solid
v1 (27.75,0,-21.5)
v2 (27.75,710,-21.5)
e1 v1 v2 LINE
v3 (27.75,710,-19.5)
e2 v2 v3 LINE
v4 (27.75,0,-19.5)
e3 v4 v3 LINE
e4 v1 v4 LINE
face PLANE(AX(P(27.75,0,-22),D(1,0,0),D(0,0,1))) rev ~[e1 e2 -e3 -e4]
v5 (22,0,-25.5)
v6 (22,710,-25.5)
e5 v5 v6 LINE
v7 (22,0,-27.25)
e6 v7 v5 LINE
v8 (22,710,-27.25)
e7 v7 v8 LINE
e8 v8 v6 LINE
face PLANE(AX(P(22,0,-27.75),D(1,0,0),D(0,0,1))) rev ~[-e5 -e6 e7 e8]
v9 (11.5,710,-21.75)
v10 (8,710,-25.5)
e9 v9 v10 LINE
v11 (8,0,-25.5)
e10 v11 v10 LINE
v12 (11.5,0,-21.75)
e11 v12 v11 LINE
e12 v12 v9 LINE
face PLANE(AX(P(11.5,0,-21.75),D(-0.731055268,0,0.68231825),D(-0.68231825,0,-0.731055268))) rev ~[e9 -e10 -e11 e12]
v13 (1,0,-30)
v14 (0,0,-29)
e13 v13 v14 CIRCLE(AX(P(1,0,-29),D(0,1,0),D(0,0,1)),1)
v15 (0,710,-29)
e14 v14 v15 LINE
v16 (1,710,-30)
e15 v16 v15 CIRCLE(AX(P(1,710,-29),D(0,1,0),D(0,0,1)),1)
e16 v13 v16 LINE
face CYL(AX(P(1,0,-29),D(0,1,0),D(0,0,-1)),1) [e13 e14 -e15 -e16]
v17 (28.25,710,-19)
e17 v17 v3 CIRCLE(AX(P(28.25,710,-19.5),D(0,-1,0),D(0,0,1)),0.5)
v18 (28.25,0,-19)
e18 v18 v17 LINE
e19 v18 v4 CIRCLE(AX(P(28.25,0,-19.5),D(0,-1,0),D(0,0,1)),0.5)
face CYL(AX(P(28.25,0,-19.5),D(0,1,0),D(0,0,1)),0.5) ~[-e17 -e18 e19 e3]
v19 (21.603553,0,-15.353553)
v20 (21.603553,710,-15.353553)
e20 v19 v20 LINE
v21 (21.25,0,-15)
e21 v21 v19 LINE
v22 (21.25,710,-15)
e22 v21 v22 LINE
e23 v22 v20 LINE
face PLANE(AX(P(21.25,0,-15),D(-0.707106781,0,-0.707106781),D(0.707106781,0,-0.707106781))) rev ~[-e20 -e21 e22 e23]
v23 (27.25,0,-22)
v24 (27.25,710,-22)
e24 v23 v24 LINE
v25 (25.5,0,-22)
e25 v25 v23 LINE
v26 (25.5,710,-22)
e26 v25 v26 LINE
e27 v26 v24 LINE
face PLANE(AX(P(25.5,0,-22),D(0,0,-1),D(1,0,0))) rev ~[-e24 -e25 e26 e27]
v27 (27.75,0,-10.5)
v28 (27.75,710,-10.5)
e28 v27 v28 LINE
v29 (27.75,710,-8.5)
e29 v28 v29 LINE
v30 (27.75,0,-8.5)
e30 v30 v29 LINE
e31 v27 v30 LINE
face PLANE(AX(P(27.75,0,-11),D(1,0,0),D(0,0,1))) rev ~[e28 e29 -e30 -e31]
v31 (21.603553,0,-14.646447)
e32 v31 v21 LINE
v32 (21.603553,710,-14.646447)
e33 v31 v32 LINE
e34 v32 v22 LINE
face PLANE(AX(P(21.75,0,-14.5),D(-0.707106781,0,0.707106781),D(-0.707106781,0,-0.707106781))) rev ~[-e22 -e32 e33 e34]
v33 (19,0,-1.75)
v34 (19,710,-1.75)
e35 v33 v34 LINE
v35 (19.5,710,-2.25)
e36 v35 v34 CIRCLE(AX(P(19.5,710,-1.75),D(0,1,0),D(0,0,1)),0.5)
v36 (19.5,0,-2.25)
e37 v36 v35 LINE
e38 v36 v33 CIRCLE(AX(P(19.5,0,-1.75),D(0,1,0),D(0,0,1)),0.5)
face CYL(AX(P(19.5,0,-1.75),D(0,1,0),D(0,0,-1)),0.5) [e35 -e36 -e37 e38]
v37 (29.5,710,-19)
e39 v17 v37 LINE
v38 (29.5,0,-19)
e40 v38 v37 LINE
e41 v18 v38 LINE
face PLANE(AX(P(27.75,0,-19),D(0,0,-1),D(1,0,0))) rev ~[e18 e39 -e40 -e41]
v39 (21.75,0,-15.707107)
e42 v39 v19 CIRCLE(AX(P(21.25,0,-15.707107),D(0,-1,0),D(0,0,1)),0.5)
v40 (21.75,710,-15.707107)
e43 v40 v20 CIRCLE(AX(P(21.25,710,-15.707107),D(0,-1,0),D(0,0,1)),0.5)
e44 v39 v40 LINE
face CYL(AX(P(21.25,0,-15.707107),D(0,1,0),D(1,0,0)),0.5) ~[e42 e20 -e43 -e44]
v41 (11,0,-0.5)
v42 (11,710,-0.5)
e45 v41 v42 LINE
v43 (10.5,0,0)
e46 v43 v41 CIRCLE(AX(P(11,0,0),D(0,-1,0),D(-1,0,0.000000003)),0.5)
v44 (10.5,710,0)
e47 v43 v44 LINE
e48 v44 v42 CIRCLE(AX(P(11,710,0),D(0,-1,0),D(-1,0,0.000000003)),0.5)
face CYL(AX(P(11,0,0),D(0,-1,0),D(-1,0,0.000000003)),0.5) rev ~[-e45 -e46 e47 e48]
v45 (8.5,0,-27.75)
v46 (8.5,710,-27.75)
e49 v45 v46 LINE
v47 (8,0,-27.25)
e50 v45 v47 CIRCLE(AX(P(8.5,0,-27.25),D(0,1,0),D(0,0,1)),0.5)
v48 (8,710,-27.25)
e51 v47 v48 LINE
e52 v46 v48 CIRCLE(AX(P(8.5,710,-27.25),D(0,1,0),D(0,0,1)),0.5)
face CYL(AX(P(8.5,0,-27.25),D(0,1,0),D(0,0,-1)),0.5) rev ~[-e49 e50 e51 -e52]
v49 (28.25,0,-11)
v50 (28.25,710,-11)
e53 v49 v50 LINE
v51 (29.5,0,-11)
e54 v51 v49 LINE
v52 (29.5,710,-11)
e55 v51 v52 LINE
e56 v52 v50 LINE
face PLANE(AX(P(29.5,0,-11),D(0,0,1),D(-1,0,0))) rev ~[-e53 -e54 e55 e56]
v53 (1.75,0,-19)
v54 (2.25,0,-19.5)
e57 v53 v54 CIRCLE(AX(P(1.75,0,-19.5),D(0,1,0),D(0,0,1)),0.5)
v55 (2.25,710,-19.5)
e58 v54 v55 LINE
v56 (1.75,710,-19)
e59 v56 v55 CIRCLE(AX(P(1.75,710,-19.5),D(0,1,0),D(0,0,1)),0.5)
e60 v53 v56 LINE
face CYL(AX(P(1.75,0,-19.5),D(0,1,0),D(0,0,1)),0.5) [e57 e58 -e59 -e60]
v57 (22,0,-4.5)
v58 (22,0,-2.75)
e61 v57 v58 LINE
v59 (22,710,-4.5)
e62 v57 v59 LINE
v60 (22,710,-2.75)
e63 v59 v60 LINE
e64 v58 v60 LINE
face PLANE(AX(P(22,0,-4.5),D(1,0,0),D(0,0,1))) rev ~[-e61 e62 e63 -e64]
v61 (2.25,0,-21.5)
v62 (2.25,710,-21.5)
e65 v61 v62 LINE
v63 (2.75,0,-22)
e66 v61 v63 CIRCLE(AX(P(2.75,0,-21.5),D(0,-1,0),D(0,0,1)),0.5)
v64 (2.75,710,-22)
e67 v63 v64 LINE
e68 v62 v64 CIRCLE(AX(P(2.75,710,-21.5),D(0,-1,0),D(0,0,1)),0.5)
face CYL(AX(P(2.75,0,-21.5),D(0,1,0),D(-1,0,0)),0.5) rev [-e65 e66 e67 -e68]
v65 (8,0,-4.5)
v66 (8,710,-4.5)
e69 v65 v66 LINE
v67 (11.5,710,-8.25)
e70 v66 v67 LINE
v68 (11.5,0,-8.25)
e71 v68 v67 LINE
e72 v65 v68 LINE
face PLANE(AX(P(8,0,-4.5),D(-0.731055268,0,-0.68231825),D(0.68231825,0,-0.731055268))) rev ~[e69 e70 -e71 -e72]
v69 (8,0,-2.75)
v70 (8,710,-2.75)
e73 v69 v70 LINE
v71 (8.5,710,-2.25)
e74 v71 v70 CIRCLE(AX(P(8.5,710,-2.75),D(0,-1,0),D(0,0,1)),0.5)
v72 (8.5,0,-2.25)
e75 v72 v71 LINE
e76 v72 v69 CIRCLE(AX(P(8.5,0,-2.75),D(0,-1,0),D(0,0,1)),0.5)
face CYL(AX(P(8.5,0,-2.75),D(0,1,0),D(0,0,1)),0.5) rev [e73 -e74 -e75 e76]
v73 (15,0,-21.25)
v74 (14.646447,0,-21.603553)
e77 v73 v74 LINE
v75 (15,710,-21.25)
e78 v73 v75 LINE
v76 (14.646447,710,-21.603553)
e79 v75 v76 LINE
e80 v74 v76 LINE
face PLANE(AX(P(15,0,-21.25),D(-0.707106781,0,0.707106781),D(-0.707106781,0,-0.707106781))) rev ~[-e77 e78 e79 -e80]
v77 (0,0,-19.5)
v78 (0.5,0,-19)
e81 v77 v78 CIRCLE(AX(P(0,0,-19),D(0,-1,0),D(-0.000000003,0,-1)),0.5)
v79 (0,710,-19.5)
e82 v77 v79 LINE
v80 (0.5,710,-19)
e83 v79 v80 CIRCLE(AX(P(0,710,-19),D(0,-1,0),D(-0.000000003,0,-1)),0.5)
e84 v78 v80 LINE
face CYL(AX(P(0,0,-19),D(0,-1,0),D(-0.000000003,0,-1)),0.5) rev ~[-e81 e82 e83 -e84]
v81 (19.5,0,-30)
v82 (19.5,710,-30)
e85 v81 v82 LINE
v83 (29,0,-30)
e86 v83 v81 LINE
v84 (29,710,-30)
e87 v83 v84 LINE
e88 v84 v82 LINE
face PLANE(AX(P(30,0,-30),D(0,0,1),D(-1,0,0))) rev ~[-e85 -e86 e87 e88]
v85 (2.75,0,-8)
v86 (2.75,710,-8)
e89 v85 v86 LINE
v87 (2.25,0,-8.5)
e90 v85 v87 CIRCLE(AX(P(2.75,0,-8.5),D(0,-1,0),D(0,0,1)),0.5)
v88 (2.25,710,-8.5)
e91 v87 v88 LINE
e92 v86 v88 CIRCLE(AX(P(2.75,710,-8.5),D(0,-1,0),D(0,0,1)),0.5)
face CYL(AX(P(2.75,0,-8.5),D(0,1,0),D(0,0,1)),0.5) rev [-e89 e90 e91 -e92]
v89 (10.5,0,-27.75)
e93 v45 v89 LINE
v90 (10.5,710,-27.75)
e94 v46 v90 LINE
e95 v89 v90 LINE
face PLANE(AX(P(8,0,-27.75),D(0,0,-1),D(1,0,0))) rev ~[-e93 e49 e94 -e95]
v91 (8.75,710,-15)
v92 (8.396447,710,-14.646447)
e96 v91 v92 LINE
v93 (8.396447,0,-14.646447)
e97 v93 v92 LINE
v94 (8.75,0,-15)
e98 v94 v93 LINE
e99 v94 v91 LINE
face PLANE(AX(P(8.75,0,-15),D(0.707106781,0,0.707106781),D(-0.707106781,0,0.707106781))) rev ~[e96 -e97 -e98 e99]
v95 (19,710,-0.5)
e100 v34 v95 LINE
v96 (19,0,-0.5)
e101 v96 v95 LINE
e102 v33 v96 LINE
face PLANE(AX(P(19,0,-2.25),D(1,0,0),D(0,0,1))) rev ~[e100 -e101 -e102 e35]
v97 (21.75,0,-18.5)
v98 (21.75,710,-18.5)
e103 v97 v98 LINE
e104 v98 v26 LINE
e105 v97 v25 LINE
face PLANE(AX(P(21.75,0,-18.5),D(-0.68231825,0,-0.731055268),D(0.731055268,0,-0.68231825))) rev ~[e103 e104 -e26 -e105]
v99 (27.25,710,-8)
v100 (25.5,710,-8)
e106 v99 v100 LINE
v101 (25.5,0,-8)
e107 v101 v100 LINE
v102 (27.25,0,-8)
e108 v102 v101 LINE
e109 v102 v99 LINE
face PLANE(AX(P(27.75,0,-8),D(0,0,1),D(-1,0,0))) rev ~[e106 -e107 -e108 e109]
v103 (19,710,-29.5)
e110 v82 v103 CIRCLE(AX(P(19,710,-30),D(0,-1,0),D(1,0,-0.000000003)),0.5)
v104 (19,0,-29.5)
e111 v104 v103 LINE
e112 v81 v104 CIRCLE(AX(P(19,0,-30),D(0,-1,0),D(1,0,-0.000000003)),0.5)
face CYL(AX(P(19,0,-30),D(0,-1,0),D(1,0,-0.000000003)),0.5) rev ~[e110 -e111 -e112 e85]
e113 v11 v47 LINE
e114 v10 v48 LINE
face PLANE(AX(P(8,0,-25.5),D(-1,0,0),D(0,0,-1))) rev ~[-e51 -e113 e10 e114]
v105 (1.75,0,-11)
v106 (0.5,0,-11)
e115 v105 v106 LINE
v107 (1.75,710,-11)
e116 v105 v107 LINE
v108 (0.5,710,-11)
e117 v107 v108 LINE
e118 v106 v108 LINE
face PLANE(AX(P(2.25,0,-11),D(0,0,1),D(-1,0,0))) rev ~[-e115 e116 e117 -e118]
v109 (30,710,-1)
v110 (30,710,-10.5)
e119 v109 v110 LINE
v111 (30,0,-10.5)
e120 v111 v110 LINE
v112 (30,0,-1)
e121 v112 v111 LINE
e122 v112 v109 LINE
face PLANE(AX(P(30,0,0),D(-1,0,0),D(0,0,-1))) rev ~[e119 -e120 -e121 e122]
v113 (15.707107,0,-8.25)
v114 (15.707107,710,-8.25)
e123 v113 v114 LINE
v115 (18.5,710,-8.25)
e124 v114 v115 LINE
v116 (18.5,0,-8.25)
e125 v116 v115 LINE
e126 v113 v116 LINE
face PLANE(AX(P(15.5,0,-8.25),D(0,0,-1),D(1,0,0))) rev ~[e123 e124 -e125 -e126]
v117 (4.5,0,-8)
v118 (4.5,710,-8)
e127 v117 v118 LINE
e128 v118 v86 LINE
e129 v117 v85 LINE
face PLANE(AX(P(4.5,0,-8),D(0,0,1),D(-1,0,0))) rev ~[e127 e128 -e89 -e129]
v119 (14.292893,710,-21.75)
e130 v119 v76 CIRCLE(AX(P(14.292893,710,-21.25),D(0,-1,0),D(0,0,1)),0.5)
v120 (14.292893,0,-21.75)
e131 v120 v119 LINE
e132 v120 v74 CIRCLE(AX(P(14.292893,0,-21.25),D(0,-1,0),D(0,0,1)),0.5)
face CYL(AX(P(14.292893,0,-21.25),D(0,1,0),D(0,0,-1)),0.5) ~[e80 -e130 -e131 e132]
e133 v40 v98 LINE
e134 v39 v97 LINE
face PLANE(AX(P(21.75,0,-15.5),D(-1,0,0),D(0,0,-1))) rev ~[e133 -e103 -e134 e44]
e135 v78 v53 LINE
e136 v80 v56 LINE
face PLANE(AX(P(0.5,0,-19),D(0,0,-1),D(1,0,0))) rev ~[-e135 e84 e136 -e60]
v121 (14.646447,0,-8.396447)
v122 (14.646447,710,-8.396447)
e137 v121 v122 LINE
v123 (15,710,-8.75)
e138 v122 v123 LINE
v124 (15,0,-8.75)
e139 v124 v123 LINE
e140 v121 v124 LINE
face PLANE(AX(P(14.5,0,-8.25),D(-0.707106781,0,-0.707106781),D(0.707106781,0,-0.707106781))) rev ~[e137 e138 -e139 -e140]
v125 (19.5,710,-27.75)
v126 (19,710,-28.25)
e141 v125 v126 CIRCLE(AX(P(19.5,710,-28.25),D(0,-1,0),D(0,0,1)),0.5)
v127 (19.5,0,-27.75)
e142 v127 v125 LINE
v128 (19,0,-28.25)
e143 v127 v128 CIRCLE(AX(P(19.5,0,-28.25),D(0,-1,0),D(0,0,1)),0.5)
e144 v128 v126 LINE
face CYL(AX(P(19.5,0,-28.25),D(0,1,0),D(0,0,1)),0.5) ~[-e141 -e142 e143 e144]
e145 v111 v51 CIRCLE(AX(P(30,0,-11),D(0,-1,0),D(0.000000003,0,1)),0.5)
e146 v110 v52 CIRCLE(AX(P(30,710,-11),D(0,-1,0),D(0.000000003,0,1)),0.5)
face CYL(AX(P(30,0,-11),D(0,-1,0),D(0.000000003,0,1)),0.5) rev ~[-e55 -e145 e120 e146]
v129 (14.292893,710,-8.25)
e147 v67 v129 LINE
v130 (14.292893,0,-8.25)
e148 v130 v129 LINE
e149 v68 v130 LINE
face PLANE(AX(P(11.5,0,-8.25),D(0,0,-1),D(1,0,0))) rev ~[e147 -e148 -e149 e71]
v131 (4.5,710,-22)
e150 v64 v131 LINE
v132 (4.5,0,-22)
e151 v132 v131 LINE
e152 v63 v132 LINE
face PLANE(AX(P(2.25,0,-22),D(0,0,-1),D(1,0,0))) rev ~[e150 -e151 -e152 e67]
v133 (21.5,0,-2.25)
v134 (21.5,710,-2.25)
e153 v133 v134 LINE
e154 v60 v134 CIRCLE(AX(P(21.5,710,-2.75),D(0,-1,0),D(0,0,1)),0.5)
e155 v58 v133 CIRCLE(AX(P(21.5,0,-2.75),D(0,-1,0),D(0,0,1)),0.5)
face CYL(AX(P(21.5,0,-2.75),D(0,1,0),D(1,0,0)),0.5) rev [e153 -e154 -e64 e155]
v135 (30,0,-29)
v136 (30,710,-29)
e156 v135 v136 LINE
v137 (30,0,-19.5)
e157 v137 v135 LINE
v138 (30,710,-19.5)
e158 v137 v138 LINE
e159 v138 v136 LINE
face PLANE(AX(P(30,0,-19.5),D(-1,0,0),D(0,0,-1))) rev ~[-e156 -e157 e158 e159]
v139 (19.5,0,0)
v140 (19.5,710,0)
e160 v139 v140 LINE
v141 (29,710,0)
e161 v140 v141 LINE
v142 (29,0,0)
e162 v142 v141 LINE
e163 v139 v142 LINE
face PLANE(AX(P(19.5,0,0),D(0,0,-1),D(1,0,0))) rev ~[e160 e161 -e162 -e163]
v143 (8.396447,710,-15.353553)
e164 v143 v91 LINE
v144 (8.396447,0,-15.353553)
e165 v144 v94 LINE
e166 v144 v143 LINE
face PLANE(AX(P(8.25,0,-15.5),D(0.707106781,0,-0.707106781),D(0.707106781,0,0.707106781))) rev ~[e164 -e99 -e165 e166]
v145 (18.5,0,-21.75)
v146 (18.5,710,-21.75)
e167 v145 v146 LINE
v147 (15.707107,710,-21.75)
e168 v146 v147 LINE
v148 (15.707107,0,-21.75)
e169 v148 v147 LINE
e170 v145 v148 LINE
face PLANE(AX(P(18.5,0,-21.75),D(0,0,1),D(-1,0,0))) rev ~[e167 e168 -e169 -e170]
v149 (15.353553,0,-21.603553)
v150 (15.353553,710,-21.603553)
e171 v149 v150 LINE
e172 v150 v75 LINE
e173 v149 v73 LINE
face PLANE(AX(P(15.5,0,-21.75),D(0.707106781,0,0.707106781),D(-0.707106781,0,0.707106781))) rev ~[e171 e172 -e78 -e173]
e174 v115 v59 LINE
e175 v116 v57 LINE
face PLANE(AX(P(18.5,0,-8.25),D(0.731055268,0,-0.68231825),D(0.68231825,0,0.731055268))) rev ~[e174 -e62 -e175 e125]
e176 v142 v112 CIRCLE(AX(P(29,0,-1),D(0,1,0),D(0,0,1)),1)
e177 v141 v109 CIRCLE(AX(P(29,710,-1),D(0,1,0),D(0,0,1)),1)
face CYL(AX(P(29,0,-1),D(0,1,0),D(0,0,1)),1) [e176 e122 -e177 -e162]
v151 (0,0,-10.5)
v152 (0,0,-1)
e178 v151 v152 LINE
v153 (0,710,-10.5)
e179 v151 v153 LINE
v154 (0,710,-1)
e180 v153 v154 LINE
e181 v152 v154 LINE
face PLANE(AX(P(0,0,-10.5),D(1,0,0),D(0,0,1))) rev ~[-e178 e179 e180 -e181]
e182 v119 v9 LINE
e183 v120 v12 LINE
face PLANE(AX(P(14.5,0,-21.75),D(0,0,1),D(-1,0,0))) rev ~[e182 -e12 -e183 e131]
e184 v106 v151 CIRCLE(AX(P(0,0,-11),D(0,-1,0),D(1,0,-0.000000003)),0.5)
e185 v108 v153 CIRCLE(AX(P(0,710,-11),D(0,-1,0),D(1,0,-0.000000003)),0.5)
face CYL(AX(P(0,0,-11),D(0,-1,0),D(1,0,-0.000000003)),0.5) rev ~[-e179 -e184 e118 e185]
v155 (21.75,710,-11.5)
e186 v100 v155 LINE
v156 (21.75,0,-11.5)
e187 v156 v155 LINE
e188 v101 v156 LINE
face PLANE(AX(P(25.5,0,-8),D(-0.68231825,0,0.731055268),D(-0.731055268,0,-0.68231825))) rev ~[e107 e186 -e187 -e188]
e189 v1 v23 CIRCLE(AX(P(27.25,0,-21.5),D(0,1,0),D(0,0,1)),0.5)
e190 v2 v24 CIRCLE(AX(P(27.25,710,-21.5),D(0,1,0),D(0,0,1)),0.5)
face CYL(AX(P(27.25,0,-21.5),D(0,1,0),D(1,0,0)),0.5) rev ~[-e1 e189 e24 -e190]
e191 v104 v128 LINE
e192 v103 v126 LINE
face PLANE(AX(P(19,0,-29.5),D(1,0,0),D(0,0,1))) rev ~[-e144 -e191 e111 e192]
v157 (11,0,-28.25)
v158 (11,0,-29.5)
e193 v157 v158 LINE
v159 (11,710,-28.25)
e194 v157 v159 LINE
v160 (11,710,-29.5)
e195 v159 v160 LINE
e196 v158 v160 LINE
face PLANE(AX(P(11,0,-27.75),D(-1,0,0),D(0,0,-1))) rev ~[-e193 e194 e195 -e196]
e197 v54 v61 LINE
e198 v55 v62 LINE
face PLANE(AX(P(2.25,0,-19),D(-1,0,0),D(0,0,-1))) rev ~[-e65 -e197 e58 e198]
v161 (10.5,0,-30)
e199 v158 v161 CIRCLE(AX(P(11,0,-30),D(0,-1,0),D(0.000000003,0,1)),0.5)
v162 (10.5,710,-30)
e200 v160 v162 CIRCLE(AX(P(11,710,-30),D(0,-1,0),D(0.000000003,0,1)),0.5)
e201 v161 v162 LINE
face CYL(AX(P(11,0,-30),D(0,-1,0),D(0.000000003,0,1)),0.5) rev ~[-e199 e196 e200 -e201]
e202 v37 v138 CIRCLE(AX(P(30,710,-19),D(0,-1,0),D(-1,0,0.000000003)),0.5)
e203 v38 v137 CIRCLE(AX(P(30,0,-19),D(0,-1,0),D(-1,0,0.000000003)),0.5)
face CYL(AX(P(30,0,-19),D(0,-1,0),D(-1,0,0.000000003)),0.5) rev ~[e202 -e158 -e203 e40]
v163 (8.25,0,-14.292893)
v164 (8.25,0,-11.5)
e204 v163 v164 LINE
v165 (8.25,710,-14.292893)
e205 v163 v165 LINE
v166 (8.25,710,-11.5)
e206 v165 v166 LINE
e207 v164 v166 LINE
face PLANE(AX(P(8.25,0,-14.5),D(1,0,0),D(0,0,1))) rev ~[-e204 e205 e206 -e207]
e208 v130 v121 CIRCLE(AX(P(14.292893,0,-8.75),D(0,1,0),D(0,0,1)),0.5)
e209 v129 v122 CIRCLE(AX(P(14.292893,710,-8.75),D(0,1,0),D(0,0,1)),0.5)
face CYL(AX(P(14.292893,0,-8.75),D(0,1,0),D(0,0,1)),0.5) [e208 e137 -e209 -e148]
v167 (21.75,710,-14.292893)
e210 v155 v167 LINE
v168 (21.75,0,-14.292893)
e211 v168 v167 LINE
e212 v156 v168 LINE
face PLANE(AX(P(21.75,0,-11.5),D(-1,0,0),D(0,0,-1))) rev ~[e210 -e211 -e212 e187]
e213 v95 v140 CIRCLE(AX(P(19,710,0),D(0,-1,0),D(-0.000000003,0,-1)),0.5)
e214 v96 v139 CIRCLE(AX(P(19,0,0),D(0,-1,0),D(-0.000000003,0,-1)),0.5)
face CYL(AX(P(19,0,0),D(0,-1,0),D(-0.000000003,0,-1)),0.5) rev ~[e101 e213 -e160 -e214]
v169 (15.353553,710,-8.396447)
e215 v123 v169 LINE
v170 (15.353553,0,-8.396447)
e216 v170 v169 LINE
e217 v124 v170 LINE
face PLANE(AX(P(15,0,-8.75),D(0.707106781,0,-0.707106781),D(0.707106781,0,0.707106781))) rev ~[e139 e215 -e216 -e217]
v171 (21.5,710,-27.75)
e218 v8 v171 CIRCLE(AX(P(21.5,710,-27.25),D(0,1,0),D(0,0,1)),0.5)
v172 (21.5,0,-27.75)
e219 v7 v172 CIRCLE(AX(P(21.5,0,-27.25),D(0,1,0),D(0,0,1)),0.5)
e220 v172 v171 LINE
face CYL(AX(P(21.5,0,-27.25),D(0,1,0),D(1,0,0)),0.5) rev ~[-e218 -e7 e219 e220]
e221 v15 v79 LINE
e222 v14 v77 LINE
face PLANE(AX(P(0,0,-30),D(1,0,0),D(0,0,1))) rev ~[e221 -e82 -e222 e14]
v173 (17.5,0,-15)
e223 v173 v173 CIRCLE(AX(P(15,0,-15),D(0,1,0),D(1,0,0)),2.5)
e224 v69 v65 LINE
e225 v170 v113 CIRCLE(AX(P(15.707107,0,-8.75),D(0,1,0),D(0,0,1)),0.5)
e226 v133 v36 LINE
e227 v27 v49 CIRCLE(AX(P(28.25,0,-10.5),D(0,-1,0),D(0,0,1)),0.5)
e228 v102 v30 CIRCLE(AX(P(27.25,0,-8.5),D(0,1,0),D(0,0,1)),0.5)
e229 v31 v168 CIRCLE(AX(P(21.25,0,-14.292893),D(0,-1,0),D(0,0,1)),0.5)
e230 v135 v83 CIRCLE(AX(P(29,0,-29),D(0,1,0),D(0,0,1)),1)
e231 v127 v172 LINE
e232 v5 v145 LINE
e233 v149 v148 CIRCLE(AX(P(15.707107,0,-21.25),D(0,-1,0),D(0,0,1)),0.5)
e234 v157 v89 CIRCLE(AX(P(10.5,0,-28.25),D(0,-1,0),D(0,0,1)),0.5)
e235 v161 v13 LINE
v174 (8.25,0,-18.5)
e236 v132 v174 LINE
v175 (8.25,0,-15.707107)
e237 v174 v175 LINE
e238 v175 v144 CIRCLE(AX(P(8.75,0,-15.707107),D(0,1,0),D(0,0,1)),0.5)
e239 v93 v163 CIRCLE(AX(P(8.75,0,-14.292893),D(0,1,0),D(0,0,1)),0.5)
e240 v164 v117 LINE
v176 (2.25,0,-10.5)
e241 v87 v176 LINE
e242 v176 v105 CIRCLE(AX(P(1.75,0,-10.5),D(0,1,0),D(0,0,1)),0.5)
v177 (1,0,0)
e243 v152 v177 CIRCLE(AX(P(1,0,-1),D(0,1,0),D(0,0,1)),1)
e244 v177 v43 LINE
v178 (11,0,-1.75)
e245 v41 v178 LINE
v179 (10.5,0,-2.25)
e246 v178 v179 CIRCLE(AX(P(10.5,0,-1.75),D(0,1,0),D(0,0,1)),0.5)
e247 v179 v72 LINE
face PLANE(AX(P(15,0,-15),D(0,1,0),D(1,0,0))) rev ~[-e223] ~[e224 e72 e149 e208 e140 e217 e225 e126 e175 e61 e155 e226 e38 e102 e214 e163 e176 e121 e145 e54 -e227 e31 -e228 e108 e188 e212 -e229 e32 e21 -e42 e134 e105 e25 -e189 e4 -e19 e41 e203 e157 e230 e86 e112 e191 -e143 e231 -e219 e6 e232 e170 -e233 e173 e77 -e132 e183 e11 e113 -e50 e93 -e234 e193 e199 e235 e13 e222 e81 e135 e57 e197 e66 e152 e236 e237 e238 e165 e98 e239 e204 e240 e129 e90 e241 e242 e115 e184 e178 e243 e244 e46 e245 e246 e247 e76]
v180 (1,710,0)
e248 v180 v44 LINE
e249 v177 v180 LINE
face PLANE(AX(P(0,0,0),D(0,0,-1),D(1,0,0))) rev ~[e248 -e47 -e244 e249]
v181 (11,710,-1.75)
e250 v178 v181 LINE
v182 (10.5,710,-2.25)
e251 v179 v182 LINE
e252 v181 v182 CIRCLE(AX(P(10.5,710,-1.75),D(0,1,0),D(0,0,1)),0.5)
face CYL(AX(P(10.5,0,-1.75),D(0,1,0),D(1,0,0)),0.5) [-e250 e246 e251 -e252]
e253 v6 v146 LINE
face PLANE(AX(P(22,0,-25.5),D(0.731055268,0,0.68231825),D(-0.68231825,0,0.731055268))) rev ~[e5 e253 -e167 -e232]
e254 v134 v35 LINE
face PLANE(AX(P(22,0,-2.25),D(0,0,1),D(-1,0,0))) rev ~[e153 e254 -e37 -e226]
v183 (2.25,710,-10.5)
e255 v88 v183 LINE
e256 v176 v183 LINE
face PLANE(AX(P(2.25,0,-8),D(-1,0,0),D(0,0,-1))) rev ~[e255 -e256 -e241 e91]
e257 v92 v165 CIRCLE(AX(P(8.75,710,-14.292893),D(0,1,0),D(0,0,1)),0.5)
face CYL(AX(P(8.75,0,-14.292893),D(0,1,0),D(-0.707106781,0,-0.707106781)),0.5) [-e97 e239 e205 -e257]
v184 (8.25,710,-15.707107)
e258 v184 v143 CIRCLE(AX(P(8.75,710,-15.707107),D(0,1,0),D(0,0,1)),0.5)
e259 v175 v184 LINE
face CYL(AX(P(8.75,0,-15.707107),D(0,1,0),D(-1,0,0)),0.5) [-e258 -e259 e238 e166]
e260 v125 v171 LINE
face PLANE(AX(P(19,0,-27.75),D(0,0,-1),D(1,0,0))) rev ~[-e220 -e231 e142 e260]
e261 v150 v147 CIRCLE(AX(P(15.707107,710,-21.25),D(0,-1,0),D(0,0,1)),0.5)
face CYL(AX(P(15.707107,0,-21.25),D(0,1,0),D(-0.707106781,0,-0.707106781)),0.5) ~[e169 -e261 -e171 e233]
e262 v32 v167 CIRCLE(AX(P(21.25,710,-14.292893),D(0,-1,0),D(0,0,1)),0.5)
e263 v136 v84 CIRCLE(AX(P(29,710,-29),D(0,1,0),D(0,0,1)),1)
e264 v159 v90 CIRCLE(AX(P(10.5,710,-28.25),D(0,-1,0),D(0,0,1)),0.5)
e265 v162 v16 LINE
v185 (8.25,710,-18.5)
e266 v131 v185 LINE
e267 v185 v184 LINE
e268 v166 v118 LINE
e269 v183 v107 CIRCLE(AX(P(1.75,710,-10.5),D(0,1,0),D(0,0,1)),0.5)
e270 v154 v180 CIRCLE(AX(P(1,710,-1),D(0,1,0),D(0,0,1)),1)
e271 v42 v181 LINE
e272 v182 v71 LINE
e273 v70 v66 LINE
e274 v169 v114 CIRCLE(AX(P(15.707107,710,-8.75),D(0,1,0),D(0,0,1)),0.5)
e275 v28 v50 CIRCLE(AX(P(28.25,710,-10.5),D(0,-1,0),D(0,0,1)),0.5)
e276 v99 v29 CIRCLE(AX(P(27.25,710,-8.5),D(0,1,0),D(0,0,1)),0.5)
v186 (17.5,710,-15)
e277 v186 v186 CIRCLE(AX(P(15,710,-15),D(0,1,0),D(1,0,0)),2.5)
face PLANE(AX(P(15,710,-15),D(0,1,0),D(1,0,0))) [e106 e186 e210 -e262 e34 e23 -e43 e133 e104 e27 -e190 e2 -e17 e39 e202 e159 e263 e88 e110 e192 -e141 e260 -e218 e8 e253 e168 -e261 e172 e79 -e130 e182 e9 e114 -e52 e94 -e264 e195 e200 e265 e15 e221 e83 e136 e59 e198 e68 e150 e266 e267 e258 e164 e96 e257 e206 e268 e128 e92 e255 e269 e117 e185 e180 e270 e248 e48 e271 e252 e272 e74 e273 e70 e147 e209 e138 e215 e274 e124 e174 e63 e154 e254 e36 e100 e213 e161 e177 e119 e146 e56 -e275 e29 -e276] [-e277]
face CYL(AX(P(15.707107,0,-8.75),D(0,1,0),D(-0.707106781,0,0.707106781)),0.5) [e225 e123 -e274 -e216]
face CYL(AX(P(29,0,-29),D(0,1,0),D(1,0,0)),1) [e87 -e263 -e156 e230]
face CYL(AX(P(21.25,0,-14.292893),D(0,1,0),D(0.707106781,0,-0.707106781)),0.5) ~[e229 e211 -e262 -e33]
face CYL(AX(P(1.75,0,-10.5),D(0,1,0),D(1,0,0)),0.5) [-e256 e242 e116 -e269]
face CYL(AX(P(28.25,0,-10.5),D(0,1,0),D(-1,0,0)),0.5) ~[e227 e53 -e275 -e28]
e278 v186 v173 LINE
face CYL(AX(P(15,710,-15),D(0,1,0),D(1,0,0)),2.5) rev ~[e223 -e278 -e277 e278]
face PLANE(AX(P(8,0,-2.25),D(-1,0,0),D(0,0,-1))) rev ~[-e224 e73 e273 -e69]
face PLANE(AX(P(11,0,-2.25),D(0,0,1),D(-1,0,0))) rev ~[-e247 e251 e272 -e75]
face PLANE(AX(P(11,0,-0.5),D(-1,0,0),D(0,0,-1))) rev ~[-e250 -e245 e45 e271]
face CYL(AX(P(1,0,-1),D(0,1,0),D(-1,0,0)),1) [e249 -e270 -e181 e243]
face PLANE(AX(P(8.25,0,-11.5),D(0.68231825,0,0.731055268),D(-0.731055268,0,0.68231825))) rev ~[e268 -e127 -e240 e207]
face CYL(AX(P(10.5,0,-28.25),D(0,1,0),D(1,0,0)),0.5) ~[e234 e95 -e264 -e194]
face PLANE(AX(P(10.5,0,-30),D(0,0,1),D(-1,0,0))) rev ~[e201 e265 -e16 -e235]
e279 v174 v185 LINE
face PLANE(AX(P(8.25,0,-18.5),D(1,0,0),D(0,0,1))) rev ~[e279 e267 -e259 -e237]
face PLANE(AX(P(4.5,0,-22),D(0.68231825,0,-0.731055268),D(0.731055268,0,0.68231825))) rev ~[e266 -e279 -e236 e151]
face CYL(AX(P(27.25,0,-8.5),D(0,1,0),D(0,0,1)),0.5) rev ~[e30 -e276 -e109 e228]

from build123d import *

# Parameters (mm, degrees)
BOSS_EXTRUDE1_DEPTH = 710
FILLET1_R           = 1
SKETCH4_R           = 2.5
CUT_EXTRUDE1_DEPTH  = 711
FILLET2_R           = 0.5


with BuildPart() as part:
    # Sketch3 → Boss-Extrude1 (new body)
    with BuildSketch(Plane(origin=(0, 0, 0), x_dir=(1, 0, 0), z_dir=(0, 1, 0))):
        with BuildLine():
            Line((11, 27.75), (11, 29.5))
            ThreePointArc((11, 29.5), (10.646446609, 29.646446609), (10.5, 30))
            Line((10.5, 30), (0, 30))
            Line((0, 30), (0, 19.5))
            ThreePointArc((0, 19.5), (0.353553391, 19.353553391), (0.5, 19))
            Line((0.5, 19), (2.25, 19))
            Line((2.25, 19), (2.25, 22))
            Line((2.25, 22), (4.5, 22))
            Line((4.5, 22), (8.25, 18.5))
            Line((8.25, 18.5), (8.25, 15.5))
            Line((8.25, 15.5), (8.75, 15))
            Line((8.75, 15), (8.25, 14.5))
            Line((8.25, 14.5), (8.25, 11.5))
            Line((8.25, 11.5), (4.5, 8))
            Line((4.5, 8), (2.25, 8))
            Line((2.25, 8), (2.25, 11))
            Line((2.25, 11), (0.5, 11))
            ThreePointArc((0.5, 11), (0.353553391, 10.646446609), (0, 10.5))
            Line((0, 10.5), (0, 0))
            Line((0, 0), (10.5, 0))
            ThreePointArc((10.5, 0), (10.646446609, 0.353553391), (11, 0.5))
            Line((11, 0.5), (11, 2.25))
            Line((11, 2.25), (8, 2.25))
            Line((8, 2.25), (8, 4.5))
            Line((8, 4.5), (11.5, 8.25))
            Line((11.5, 8.25), (14.5, 8.25))
            Line((14.5, 8.25), (15, 8.75))
            Line((15, 8.75), (15.5, 8.25))
            Line((15.5, 8.25), (18.5, 8.25))
            Line((18.5, 8.25), (22, 4.5))
            Line((22, 4.5), (22, 2.25))
            Line((22, 2.25), (19, 2.25))
            Line((19, 2.25), (19, 0.5))
            ThreePointArc((19, 0.5), (19.353553391, 0.353553391), (19.5, 0))
            Line((19.5, 0), (30, 0))
            Line((30, 0), (30, 10.5))
            ThreePointArc((30, 10.5), (29.646446609, 10.646446609), (29.5, 11))
            Line((29.5, 11), (27.75, 11))
            Line((27.75, 11), (27.75, 8))
            Line((27.75, 8), (25.5, 8))
            Line((25.5, 8), (21.75, 11.5))
            Line((21.75, 11.5), (21.75, 14.5))
            Line((21.75, 14.5), (21.25, 15))
            Line((21.25, 15), (21.75, 15.5))
            Line((21.75, 15.5), (21.75, 18.5))
            Line((21.75, 18.5), (25.5, 22))
            Line((25.5, 22), (27.75, 22))
            Line((27.75, 22), (27.75, 19))
            Line((27.75, 19), (29.5, 19))
            ThreePointArc((29.5, 19), (29.646446609, 19.353553391), (30, 19.5))
            Line((30, 19.5), (30, 30))
            Line((30, 30), (19.5, 30))
            ThreePointArc((19.5, 30), (19.353553391, 29.646446609), (19, 29.5))
            Line((19, 29.5), (19, 27.75))
            Line((19, 27.75), (22, 27.75))
            Line((22, 27.75), (22, 25.5))
            Line((22, 25.5), (18.5, 21.75))
            Line((18.5, 21.75), (15.5, 21.75))
            Line((15.5, 21.75), (15, 21.25))
            Line((15, 21.25), (14.5, 21.75))
            Line((14.5, 21.75), (11.5, 21.75))
            Line((11.5, 21.75), (8, 25.5))
            Line((8, 25.5), (8, 27.75))
            Line((8, 27.75), (11, 27.75))
        make_face()
    extrude(amount=BOSS_EXTRUDE1_DEPTH)

    # Fillet1
    fillet1_edges = [part.edges().sort_by_distance(p)[0] for p in [
        (30, 355, 0),
        (0, 355, 0),
        (0, 355, -30),
        (30, 355, -30),
    ]]
    fillet(fillet1_edges, radius=FILLET1_R)

    # Sketch4 → Cut-Extrude1 (cut, through all)
    with BuildSketch(Plane(origin=(0, 710, 0), x_dir=(1, 0, 0), z_dir=(0, 1, 0))):
        with Locations((15, 15)):
            Circle(SKETCH4_R)
    extrude(amount=-CUT_EXTRUDE1_DEPTH, mode=Mode.SUBTRACT)

    # Fillet2
    fillet2_edges = [part.edges().sort_by_distance(p)[0] for p in [
        (27.75, 355, -19),
        (27.75, 355, -22),
        (21.75, 355, -15.5),
        (21.75, 355, -14.5),
        (27.75, 355, -8),
        (27.75, 355, -11),
        (19, 355, -2.25),
        (22, 355, -2.25),
        (15.5, 355, -8.25),
        (14.5, 355, -8.25),
        (8, 355, -2.25),
        (11, 355, -2.25),
        (2.25, 355, -11),
        (2.25, 355, -8),
        (8.25, 355, -14.5),
        (8.25, 355, -15.5),
        (2.25, 355, -22),
        (2.25, 355, -19),
        (11, 355, -27.75),
        (8, 355, -27.75),
        (14.5, 355, -21.75),
        (15.5, 355, -21.75),
        (22, 355, -27.75),
        (19, 355, -27.75),
    ]]
    fillet(fillet2_edges, radius=FILLET2_R)


solid = part.part
